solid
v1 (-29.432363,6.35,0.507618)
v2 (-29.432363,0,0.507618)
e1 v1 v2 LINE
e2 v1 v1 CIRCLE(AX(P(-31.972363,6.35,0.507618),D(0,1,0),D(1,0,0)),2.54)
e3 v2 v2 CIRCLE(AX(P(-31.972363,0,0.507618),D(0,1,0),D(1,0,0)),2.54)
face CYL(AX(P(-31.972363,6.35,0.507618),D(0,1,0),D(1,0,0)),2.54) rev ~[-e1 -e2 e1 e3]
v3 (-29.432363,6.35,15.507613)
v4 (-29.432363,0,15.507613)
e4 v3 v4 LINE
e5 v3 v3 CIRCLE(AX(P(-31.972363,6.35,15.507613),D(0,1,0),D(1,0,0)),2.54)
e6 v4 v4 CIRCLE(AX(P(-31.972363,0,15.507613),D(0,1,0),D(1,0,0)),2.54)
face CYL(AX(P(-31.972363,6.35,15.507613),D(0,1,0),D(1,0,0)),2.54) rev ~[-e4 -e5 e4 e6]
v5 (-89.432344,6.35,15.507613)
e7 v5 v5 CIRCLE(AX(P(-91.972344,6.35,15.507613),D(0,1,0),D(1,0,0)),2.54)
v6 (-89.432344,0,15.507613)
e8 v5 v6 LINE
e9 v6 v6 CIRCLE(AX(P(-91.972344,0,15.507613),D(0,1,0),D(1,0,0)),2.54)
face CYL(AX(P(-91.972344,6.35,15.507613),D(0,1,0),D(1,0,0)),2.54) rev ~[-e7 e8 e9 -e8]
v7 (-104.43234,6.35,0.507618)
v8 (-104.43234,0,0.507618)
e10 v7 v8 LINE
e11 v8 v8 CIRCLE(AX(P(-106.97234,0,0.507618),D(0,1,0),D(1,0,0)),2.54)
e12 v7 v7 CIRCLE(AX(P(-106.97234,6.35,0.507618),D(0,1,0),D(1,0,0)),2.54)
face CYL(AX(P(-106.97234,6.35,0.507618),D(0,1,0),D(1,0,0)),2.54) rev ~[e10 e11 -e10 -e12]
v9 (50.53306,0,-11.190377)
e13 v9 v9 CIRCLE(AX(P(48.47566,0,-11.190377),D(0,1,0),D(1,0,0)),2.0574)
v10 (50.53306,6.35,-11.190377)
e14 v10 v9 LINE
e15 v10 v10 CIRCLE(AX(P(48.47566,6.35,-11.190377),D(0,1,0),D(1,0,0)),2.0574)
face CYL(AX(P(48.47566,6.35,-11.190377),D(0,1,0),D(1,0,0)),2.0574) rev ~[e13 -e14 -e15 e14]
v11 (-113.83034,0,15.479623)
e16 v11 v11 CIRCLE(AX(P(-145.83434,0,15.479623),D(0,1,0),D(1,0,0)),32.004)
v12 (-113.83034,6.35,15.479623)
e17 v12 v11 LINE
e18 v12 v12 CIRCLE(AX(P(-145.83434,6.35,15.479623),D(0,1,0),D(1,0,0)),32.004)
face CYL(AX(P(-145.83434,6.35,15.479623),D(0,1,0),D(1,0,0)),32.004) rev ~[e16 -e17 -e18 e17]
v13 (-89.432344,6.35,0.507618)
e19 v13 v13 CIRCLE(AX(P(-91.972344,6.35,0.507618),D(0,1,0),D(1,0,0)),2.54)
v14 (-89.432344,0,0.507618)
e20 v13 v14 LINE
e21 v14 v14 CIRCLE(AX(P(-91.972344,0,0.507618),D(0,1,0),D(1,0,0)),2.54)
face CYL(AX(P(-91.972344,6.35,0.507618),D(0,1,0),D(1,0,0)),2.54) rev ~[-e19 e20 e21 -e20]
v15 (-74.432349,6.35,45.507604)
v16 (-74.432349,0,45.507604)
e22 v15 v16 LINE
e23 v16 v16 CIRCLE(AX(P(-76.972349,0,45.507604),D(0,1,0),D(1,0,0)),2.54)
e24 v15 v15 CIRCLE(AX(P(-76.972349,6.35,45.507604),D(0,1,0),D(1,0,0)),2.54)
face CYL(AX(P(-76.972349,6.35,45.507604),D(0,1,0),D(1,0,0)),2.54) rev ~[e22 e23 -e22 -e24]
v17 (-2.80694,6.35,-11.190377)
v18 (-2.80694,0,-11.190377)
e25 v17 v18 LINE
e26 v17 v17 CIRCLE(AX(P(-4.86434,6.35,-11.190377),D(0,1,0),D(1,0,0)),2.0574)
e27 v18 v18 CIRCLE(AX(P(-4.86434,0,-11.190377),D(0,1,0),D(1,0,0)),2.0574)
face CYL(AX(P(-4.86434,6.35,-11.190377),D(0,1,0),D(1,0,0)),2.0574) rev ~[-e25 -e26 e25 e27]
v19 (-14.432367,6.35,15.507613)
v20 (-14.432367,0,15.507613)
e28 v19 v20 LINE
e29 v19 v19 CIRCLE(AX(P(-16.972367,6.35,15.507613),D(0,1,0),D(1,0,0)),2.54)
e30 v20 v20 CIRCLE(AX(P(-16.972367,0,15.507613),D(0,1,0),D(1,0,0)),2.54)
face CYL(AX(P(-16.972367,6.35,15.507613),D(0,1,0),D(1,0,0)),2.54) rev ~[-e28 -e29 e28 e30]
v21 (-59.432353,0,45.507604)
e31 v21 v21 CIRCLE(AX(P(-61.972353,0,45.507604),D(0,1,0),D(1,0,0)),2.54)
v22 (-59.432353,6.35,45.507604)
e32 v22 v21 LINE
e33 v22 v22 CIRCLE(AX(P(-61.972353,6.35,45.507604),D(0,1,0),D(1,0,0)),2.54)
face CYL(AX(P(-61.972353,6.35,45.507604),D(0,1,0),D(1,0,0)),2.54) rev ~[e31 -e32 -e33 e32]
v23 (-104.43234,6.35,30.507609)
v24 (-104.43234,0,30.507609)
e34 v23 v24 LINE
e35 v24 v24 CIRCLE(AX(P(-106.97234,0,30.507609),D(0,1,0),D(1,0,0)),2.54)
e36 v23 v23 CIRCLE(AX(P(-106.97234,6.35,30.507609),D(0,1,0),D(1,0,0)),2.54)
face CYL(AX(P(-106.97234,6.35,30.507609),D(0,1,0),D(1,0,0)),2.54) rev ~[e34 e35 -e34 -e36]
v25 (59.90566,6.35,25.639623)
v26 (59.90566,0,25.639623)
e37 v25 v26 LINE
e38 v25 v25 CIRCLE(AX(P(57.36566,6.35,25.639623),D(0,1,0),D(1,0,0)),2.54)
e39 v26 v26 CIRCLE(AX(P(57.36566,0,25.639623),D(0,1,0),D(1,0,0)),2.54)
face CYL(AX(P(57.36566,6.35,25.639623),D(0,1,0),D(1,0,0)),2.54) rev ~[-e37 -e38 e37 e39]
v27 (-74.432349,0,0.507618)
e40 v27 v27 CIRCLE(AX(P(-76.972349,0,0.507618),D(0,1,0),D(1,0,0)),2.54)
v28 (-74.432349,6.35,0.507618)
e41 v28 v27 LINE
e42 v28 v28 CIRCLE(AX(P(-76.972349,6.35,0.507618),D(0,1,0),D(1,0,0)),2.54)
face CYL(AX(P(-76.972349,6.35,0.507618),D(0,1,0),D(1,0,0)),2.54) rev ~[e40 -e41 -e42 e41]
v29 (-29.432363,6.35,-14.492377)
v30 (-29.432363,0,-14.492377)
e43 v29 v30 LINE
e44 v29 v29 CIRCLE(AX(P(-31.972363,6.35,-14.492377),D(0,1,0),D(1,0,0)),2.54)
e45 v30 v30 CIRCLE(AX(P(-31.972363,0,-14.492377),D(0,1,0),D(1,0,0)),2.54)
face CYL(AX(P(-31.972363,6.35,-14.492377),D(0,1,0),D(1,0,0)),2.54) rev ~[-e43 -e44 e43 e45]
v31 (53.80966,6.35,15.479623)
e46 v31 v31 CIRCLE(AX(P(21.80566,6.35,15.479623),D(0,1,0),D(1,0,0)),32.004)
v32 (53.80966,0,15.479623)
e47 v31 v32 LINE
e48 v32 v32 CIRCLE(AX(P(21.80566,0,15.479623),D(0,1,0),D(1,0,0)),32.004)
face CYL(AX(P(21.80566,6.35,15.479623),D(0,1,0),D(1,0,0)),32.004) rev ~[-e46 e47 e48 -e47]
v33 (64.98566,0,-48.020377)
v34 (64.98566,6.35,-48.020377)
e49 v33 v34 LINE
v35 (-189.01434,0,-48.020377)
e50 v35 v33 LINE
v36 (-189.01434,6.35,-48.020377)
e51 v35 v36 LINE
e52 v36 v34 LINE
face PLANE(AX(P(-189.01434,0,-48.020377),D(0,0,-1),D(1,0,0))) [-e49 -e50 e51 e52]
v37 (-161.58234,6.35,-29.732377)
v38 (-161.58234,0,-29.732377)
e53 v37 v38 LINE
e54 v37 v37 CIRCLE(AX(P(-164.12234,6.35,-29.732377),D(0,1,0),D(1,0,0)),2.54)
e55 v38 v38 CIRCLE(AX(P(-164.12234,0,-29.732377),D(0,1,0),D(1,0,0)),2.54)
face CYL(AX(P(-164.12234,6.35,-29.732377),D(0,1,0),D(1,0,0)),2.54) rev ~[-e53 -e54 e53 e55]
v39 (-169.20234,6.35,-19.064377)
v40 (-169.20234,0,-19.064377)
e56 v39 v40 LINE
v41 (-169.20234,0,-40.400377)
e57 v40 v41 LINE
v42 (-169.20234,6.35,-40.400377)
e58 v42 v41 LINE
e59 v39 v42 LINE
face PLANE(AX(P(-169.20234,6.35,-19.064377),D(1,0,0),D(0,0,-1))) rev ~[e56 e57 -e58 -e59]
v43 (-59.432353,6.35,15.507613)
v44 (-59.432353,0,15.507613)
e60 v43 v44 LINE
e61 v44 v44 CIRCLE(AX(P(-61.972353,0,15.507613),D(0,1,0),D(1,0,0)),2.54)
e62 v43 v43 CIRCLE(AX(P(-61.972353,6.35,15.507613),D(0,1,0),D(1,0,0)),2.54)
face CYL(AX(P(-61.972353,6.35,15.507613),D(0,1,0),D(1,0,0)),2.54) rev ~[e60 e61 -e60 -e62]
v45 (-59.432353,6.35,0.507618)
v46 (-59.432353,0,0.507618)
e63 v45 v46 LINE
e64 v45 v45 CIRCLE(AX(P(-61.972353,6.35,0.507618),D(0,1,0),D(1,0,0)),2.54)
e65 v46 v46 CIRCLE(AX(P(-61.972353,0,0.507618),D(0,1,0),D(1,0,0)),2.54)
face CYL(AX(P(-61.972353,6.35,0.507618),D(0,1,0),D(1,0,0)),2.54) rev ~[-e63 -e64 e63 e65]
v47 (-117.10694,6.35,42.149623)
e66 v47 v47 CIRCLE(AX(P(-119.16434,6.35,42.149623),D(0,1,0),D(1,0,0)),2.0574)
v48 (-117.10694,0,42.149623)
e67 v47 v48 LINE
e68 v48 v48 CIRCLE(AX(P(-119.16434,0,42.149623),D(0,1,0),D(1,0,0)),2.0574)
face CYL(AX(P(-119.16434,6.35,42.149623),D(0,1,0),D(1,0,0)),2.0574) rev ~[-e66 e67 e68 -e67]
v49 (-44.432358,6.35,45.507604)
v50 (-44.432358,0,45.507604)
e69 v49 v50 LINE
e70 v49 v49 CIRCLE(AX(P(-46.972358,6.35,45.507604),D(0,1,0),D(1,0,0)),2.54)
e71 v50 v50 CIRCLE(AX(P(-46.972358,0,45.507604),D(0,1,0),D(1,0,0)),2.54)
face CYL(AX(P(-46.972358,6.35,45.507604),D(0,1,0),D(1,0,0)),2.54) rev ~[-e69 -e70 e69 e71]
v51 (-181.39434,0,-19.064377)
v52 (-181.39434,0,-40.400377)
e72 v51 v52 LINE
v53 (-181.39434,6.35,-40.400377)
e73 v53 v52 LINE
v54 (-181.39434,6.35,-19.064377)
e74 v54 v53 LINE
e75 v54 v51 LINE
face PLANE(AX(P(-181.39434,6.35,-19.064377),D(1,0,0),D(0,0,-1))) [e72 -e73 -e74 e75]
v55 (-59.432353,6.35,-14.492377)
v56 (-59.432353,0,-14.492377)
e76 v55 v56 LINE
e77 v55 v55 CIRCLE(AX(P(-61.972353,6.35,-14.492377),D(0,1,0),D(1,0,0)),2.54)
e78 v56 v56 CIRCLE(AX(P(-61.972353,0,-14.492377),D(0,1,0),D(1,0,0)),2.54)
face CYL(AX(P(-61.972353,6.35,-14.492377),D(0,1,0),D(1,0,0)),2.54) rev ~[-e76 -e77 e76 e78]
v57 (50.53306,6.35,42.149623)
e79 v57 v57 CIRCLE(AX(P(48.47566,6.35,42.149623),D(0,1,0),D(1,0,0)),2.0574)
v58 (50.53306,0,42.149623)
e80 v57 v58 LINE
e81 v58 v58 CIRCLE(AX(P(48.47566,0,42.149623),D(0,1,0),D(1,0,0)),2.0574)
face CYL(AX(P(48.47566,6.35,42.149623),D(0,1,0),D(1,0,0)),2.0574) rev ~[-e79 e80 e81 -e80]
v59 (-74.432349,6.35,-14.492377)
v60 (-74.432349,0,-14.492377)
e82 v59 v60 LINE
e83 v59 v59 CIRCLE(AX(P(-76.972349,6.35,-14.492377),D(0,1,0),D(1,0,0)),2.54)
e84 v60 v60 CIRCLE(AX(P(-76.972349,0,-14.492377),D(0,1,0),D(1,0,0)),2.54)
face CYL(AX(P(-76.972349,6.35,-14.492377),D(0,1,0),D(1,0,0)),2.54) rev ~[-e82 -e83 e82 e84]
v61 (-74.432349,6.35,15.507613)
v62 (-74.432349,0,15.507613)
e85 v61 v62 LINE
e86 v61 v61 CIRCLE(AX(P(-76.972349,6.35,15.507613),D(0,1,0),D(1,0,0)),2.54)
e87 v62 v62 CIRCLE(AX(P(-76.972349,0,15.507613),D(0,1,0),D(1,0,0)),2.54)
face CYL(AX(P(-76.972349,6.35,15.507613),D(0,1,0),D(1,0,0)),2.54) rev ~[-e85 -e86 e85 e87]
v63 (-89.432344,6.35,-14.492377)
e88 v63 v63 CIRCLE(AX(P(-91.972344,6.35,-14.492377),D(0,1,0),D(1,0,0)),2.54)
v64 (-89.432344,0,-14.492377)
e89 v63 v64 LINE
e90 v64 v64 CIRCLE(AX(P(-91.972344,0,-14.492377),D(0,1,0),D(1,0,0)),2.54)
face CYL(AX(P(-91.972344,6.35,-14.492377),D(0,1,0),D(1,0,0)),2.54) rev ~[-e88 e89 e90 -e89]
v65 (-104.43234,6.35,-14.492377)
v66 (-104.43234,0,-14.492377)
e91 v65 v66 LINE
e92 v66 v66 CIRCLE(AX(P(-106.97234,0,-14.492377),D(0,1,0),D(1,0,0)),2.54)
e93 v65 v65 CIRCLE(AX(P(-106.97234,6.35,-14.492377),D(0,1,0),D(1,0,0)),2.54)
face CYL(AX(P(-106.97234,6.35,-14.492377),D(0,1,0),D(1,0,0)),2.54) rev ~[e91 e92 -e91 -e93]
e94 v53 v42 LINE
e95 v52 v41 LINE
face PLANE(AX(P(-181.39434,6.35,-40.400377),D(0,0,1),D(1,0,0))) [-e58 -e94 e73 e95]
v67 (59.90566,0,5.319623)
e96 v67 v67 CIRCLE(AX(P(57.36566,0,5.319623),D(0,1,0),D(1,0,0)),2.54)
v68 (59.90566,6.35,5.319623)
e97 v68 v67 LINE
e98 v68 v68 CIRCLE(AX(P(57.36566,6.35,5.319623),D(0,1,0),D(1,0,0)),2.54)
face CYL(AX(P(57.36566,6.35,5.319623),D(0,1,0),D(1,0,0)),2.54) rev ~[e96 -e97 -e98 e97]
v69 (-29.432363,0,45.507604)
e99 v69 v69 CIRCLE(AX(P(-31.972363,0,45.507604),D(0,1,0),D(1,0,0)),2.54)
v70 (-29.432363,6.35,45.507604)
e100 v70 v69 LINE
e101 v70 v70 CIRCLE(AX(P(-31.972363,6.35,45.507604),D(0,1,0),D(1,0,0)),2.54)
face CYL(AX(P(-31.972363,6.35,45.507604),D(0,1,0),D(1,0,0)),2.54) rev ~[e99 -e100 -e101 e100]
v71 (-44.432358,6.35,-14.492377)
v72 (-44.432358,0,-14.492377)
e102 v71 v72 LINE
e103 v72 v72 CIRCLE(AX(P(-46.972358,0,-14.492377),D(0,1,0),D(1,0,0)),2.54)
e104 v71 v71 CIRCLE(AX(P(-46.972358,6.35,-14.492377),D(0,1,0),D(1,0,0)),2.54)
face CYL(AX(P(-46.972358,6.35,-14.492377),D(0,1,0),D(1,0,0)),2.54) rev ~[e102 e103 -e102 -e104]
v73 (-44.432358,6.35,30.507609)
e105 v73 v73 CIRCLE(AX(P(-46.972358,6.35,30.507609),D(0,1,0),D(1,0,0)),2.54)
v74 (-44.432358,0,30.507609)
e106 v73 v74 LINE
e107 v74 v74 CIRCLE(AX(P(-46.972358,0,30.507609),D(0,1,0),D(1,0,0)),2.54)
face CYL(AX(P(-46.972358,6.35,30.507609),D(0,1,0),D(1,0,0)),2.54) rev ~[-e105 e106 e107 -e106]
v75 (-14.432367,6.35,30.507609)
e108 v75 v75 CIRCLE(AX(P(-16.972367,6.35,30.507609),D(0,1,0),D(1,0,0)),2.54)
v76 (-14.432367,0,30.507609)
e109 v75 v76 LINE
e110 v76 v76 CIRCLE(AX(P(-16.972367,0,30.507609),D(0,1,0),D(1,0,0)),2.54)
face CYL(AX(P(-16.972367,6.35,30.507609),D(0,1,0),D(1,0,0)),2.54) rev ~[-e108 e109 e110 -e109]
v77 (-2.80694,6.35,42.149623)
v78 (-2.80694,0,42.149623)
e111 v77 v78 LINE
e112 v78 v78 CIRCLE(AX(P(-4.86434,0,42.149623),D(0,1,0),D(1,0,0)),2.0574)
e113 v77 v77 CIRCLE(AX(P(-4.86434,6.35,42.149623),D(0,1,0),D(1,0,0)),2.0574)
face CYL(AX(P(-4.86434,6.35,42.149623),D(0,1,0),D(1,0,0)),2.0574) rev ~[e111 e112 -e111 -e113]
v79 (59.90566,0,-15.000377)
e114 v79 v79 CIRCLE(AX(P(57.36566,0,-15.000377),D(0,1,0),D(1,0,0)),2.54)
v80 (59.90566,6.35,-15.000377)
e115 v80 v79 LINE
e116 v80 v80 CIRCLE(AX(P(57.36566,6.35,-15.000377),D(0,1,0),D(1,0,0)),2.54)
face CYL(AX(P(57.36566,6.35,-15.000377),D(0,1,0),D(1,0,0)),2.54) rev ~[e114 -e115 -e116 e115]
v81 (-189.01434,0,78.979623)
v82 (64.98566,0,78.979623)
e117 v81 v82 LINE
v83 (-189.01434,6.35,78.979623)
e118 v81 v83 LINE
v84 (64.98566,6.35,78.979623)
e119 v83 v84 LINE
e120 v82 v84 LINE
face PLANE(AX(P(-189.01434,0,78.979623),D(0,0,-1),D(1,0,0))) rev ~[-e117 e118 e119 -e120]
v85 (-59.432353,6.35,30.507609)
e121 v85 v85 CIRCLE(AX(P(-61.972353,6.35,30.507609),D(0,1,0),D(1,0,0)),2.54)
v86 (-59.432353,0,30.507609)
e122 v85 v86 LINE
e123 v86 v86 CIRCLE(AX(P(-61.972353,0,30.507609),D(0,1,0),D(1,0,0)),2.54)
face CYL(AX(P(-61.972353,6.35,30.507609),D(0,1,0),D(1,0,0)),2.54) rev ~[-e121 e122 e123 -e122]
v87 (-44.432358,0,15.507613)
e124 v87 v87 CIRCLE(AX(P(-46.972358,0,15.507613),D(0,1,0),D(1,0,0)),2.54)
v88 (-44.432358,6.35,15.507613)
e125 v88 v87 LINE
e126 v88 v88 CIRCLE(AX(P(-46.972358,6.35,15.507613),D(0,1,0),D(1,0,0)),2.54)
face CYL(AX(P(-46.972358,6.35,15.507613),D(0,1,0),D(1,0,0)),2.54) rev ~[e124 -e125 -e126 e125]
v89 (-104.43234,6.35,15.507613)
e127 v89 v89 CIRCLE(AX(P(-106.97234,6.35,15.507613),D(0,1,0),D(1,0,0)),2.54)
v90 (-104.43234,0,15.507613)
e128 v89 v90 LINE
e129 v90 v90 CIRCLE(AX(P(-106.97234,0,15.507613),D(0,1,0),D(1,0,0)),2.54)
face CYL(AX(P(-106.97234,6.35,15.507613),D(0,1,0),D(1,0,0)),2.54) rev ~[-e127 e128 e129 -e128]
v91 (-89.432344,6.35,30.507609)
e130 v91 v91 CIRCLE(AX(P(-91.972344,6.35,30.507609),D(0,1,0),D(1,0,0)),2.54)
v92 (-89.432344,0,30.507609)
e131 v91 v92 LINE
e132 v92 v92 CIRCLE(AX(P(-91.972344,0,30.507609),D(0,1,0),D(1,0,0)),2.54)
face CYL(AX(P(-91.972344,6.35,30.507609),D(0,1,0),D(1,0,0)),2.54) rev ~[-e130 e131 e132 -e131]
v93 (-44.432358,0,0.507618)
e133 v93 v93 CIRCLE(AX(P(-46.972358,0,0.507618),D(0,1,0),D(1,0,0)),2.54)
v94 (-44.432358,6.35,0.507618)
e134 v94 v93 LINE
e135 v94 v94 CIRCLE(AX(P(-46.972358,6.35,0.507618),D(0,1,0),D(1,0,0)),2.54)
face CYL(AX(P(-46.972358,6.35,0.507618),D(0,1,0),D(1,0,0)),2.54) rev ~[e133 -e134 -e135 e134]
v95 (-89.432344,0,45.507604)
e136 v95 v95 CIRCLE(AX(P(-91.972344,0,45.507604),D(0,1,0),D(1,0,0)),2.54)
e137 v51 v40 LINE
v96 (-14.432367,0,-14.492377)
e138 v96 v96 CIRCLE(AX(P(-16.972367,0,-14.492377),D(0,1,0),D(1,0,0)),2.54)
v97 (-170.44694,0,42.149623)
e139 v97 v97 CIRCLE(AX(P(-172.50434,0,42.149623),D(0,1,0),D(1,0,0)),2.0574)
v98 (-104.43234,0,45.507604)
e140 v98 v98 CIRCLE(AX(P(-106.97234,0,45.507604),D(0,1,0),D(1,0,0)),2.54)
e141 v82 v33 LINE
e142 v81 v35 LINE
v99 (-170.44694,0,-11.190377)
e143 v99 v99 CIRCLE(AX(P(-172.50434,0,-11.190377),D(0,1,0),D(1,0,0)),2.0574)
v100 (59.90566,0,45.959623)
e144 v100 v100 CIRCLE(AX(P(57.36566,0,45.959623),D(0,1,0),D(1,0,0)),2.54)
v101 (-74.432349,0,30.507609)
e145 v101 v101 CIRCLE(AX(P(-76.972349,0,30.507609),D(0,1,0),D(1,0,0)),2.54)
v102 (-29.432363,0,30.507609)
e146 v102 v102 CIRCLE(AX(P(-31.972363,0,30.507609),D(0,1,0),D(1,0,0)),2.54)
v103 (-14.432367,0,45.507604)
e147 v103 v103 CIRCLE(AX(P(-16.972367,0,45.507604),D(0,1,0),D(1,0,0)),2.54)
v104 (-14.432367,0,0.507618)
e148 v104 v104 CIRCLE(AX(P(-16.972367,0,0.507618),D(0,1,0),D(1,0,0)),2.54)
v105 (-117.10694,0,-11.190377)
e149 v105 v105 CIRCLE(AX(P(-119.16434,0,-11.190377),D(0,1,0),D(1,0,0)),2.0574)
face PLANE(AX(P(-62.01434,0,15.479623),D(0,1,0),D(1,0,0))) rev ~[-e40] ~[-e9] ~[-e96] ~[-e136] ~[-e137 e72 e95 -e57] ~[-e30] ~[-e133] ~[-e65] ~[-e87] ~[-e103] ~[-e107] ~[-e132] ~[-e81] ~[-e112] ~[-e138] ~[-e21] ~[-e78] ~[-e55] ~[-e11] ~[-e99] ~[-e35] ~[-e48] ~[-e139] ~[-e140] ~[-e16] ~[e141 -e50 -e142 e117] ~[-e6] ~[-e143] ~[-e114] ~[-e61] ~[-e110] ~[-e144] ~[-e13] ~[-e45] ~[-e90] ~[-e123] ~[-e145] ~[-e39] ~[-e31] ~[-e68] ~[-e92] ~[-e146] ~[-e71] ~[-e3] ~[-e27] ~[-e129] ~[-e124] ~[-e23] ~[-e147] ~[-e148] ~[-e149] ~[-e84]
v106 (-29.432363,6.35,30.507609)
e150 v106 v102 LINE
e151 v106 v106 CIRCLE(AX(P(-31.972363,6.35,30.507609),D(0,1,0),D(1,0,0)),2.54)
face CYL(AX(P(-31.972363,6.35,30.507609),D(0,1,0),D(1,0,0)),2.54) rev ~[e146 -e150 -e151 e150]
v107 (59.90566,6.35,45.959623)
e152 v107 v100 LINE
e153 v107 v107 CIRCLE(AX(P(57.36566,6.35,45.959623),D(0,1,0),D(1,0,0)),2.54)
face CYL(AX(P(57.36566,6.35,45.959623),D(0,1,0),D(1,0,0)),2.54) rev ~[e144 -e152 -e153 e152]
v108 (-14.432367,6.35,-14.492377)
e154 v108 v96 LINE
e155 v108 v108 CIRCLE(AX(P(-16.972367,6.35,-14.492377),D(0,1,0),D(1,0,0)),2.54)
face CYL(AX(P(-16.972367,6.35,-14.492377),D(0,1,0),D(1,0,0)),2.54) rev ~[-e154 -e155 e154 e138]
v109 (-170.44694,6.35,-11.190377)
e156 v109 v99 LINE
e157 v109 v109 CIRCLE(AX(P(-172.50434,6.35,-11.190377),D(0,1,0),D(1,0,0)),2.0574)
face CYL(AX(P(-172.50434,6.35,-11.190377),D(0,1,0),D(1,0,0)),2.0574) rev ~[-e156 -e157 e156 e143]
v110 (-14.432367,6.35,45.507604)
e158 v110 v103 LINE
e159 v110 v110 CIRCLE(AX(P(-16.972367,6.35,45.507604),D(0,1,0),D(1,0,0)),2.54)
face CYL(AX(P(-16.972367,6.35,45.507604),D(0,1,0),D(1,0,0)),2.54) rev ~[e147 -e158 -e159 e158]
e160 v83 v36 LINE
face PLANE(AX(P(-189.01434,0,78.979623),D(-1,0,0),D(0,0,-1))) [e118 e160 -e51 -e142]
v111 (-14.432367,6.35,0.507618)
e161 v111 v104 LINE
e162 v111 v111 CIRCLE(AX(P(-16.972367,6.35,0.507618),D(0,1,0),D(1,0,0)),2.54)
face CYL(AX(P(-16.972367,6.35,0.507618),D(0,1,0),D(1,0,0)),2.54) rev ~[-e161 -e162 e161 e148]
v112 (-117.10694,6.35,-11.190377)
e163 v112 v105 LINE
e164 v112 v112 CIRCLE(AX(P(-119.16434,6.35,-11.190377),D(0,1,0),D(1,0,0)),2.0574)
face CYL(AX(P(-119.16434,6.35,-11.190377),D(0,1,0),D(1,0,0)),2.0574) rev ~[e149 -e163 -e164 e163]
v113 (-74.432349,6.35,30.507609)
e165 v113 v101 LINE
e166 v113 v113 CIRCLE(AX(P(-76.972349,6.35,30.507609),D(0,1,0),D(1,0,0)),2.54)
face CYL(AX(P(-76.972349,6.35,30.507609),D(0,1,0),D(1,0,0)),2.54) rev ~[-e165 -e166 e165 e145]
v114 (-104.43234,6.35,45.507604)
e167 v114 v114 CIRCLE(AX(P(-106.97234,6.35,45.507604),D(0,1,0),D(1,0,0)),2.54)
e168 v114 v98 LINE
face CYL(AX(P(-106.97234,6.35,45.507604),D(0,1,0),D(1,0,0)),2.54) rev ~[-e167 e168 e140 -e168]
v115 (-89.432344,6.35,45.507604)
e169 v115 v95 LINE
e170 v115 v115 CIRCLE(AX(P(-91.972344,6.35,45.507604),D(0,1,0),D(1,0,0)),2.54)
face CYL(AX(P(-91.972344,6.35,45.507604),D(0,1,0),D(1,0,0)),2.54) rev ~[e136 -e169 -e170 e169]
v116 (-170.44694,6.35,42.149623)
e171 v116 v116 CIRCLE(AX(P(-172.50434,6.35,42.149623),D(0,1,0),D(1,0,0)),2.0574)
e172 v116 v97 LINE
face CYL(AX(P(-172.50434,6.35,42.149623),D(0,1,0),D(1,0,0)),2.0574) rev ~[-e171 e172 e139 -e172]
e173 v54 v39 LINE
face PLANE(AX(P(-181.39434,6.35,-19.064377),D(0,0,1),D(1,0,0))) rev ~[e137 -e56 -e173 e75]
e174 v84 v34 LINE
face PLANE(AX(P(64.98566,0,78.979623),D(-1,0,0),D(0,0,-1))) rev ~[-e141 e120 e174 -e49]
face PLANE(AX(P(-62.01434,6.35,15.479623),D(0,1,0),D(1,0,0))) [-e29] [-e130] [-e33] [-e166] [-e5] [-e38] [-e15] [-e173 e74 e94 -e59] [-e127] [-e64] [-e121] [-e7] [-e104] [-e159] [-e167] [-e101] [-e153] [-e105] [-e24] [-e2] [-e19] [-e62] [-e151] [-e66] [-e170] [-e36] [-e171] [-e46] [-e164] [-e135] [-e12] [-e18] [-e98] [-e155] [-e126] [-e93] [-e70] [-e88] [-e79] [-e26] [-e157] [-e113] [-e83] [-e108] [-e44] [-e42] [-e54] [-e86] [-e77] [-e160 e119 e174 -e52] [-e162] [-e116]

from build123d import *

# Parameters (mm, degrees)
SKETCH1_W            = 254
SKETCH1_H            = 127
BOSS_EXTRUDE1_DEPTH  = 6.35
SKETCH3_R            = 2.54
CUT_EXTRUDE3_DEPTH   = 25.4
LPATTERN1_COUNT      = 4
LPATTERN1_PITCH      = 20.32
SKETCH3_7_R          = 2.54
CUT_EXTRUDE4_DEPTH   = 25.4
LPATTERN2_COUNT      = 7
LPATTERN2_PITCH      = 14.9999954
LPATTERN2_COUNT_DIR2 = 5
LPATTERN2_PITCH_DIR2 = 14.9999954
SKETCH3_8_R          = 32.004
SKETCH3_8_R_2        = 2.54
SKETCH3_8_R_3        = 2.0574
SKETCH3_8_W          = 12.192
SKETCH3_8_H          = 21.336
CUT_EXTRUDE5_DEPTH   = 25.4


with BuildPart() as part:
    # Sketch1 → Boss-Extrude1 (new body)
    with BuildSketch(Plane(origin=(0, 0, 0), x_dir=(1, 0, 0), z_dir=(0, 1, 0))):
        with Locations((-62.014339623, -15.479622642)):
            Rectangle(SKETCH1_W, SKETCH1_H)
    extrude(amount=BOSS_EXTRUDE1_DEPTH)

    # Sketch3 → Cut-Extrude3 (cut)
    with BuildSketch(Plane(origin=(0, 6.35, 0), x_dir=(1, 0, 0), z_dir=(0, 1, 0))):
        with Locations((57.365660377, 15.000377358)):
            Circle(SKETCH3_R)
    cut_extrude3 = extrude(amount=-CUT_EXTRUDE3_DEPTH, mode=Mode.SUBTRACT)

    # LPattern1: Cut-Extrude3 ×4
    with Locations(*[(0, 0, i * LPATTERN1_PITCH) for i in range(1, LPATTERN1_COUNT)]):
        add(cut_extrude3, mode=Mode.SUBTRACT)

    # Sketch3<7> → Cut-Extrude4 (cut)
    with BuildSketch(Plane(origin=(0, 6.35, 0), x_dir=(1, 0, 0), z_dir=(0, 1, 0))):
        with Locations((-106.972339623, 14.492377358)):
            Circle(SKETCH3_7_R)
    cut_extrude4 = extrude(amount=-CUT_EXTRUDE4_DEPTH, mode=Mode.SUBTRACT)

    # LPattern2: Cut-Extrude4 7 × 5
    with Locations(*[(i * LPATTERN2_PITCH, 0, j * LPATTERN2_PITCH_DIR2) for i in range(LPATTERN2_COUNT) for j in range(LPATTERN2_COUNT_DIR2) if (i, j) != (0, 0)]):
        add(cut_extrude4, mode=Mode.SUBTRACT)

    # Sketch3<8> → Cut-Extrude5 (cut)
    with BuildSketch(Plane(origin=(0, 6.35, 0), x_dir=(1, 0, 0), z_dir=(0, 1, 0))):
        with Locations((-145.834339623, -15.479622642)):
            Circle(SKETCH3_8_R)
        with Locations((21.805660377, -15.479622642)):
            Circle(SKETCH3_8_R)
        with Locations((-106.972339623, 14.492377358)):
            Circle(SKETCH3_8_R_2)
        with Locations((-172.504339623, -42.149622642)):
            Circle(SKETCH3_8_R_3)
        with Locations((57.365660377, 15.000377358)):
            Circle(SKETCH3_8_R_2)
        with Locations((-164.122339623, 29.732377358)):
            Circle(SKETCH3_8_R_2)
        with Locations((-119.164339623, -42.149622642)):
            Circle(SKETCH3_8_R_3)
        with Locations((-172.504339623, 11.190377358)):
            Circle(SKETCH3_8_R_3)
        with Locations((-119.164339623, 11.190377358)):
            Circle(SKETCH3_8_R_3)
        with Locations((-4.864339623, -42.149622642)):
            Circle(SKETCH3_8_R_3)
        with Locations((48.475660377, -42.149622642)):
            Circle(SKETCH3_8_R_3)
        with Locations((-4.864339623, 11.190377358)):
            Circle(SKETCH3_8_R_3)
        with Locations((48.475660377, 11.190377358)):
            Circle(SKETCH3_8_R_3)
        with Locations((-175.298339623, 29.732377358)):
            Rectangle(SKETCH3_8_W, SKETCH3_8_H)
    extrude(amount=-CUT_EXTRUDE5_DEPTH, mode=Mode.SUBTRACT)


solid = part.part
